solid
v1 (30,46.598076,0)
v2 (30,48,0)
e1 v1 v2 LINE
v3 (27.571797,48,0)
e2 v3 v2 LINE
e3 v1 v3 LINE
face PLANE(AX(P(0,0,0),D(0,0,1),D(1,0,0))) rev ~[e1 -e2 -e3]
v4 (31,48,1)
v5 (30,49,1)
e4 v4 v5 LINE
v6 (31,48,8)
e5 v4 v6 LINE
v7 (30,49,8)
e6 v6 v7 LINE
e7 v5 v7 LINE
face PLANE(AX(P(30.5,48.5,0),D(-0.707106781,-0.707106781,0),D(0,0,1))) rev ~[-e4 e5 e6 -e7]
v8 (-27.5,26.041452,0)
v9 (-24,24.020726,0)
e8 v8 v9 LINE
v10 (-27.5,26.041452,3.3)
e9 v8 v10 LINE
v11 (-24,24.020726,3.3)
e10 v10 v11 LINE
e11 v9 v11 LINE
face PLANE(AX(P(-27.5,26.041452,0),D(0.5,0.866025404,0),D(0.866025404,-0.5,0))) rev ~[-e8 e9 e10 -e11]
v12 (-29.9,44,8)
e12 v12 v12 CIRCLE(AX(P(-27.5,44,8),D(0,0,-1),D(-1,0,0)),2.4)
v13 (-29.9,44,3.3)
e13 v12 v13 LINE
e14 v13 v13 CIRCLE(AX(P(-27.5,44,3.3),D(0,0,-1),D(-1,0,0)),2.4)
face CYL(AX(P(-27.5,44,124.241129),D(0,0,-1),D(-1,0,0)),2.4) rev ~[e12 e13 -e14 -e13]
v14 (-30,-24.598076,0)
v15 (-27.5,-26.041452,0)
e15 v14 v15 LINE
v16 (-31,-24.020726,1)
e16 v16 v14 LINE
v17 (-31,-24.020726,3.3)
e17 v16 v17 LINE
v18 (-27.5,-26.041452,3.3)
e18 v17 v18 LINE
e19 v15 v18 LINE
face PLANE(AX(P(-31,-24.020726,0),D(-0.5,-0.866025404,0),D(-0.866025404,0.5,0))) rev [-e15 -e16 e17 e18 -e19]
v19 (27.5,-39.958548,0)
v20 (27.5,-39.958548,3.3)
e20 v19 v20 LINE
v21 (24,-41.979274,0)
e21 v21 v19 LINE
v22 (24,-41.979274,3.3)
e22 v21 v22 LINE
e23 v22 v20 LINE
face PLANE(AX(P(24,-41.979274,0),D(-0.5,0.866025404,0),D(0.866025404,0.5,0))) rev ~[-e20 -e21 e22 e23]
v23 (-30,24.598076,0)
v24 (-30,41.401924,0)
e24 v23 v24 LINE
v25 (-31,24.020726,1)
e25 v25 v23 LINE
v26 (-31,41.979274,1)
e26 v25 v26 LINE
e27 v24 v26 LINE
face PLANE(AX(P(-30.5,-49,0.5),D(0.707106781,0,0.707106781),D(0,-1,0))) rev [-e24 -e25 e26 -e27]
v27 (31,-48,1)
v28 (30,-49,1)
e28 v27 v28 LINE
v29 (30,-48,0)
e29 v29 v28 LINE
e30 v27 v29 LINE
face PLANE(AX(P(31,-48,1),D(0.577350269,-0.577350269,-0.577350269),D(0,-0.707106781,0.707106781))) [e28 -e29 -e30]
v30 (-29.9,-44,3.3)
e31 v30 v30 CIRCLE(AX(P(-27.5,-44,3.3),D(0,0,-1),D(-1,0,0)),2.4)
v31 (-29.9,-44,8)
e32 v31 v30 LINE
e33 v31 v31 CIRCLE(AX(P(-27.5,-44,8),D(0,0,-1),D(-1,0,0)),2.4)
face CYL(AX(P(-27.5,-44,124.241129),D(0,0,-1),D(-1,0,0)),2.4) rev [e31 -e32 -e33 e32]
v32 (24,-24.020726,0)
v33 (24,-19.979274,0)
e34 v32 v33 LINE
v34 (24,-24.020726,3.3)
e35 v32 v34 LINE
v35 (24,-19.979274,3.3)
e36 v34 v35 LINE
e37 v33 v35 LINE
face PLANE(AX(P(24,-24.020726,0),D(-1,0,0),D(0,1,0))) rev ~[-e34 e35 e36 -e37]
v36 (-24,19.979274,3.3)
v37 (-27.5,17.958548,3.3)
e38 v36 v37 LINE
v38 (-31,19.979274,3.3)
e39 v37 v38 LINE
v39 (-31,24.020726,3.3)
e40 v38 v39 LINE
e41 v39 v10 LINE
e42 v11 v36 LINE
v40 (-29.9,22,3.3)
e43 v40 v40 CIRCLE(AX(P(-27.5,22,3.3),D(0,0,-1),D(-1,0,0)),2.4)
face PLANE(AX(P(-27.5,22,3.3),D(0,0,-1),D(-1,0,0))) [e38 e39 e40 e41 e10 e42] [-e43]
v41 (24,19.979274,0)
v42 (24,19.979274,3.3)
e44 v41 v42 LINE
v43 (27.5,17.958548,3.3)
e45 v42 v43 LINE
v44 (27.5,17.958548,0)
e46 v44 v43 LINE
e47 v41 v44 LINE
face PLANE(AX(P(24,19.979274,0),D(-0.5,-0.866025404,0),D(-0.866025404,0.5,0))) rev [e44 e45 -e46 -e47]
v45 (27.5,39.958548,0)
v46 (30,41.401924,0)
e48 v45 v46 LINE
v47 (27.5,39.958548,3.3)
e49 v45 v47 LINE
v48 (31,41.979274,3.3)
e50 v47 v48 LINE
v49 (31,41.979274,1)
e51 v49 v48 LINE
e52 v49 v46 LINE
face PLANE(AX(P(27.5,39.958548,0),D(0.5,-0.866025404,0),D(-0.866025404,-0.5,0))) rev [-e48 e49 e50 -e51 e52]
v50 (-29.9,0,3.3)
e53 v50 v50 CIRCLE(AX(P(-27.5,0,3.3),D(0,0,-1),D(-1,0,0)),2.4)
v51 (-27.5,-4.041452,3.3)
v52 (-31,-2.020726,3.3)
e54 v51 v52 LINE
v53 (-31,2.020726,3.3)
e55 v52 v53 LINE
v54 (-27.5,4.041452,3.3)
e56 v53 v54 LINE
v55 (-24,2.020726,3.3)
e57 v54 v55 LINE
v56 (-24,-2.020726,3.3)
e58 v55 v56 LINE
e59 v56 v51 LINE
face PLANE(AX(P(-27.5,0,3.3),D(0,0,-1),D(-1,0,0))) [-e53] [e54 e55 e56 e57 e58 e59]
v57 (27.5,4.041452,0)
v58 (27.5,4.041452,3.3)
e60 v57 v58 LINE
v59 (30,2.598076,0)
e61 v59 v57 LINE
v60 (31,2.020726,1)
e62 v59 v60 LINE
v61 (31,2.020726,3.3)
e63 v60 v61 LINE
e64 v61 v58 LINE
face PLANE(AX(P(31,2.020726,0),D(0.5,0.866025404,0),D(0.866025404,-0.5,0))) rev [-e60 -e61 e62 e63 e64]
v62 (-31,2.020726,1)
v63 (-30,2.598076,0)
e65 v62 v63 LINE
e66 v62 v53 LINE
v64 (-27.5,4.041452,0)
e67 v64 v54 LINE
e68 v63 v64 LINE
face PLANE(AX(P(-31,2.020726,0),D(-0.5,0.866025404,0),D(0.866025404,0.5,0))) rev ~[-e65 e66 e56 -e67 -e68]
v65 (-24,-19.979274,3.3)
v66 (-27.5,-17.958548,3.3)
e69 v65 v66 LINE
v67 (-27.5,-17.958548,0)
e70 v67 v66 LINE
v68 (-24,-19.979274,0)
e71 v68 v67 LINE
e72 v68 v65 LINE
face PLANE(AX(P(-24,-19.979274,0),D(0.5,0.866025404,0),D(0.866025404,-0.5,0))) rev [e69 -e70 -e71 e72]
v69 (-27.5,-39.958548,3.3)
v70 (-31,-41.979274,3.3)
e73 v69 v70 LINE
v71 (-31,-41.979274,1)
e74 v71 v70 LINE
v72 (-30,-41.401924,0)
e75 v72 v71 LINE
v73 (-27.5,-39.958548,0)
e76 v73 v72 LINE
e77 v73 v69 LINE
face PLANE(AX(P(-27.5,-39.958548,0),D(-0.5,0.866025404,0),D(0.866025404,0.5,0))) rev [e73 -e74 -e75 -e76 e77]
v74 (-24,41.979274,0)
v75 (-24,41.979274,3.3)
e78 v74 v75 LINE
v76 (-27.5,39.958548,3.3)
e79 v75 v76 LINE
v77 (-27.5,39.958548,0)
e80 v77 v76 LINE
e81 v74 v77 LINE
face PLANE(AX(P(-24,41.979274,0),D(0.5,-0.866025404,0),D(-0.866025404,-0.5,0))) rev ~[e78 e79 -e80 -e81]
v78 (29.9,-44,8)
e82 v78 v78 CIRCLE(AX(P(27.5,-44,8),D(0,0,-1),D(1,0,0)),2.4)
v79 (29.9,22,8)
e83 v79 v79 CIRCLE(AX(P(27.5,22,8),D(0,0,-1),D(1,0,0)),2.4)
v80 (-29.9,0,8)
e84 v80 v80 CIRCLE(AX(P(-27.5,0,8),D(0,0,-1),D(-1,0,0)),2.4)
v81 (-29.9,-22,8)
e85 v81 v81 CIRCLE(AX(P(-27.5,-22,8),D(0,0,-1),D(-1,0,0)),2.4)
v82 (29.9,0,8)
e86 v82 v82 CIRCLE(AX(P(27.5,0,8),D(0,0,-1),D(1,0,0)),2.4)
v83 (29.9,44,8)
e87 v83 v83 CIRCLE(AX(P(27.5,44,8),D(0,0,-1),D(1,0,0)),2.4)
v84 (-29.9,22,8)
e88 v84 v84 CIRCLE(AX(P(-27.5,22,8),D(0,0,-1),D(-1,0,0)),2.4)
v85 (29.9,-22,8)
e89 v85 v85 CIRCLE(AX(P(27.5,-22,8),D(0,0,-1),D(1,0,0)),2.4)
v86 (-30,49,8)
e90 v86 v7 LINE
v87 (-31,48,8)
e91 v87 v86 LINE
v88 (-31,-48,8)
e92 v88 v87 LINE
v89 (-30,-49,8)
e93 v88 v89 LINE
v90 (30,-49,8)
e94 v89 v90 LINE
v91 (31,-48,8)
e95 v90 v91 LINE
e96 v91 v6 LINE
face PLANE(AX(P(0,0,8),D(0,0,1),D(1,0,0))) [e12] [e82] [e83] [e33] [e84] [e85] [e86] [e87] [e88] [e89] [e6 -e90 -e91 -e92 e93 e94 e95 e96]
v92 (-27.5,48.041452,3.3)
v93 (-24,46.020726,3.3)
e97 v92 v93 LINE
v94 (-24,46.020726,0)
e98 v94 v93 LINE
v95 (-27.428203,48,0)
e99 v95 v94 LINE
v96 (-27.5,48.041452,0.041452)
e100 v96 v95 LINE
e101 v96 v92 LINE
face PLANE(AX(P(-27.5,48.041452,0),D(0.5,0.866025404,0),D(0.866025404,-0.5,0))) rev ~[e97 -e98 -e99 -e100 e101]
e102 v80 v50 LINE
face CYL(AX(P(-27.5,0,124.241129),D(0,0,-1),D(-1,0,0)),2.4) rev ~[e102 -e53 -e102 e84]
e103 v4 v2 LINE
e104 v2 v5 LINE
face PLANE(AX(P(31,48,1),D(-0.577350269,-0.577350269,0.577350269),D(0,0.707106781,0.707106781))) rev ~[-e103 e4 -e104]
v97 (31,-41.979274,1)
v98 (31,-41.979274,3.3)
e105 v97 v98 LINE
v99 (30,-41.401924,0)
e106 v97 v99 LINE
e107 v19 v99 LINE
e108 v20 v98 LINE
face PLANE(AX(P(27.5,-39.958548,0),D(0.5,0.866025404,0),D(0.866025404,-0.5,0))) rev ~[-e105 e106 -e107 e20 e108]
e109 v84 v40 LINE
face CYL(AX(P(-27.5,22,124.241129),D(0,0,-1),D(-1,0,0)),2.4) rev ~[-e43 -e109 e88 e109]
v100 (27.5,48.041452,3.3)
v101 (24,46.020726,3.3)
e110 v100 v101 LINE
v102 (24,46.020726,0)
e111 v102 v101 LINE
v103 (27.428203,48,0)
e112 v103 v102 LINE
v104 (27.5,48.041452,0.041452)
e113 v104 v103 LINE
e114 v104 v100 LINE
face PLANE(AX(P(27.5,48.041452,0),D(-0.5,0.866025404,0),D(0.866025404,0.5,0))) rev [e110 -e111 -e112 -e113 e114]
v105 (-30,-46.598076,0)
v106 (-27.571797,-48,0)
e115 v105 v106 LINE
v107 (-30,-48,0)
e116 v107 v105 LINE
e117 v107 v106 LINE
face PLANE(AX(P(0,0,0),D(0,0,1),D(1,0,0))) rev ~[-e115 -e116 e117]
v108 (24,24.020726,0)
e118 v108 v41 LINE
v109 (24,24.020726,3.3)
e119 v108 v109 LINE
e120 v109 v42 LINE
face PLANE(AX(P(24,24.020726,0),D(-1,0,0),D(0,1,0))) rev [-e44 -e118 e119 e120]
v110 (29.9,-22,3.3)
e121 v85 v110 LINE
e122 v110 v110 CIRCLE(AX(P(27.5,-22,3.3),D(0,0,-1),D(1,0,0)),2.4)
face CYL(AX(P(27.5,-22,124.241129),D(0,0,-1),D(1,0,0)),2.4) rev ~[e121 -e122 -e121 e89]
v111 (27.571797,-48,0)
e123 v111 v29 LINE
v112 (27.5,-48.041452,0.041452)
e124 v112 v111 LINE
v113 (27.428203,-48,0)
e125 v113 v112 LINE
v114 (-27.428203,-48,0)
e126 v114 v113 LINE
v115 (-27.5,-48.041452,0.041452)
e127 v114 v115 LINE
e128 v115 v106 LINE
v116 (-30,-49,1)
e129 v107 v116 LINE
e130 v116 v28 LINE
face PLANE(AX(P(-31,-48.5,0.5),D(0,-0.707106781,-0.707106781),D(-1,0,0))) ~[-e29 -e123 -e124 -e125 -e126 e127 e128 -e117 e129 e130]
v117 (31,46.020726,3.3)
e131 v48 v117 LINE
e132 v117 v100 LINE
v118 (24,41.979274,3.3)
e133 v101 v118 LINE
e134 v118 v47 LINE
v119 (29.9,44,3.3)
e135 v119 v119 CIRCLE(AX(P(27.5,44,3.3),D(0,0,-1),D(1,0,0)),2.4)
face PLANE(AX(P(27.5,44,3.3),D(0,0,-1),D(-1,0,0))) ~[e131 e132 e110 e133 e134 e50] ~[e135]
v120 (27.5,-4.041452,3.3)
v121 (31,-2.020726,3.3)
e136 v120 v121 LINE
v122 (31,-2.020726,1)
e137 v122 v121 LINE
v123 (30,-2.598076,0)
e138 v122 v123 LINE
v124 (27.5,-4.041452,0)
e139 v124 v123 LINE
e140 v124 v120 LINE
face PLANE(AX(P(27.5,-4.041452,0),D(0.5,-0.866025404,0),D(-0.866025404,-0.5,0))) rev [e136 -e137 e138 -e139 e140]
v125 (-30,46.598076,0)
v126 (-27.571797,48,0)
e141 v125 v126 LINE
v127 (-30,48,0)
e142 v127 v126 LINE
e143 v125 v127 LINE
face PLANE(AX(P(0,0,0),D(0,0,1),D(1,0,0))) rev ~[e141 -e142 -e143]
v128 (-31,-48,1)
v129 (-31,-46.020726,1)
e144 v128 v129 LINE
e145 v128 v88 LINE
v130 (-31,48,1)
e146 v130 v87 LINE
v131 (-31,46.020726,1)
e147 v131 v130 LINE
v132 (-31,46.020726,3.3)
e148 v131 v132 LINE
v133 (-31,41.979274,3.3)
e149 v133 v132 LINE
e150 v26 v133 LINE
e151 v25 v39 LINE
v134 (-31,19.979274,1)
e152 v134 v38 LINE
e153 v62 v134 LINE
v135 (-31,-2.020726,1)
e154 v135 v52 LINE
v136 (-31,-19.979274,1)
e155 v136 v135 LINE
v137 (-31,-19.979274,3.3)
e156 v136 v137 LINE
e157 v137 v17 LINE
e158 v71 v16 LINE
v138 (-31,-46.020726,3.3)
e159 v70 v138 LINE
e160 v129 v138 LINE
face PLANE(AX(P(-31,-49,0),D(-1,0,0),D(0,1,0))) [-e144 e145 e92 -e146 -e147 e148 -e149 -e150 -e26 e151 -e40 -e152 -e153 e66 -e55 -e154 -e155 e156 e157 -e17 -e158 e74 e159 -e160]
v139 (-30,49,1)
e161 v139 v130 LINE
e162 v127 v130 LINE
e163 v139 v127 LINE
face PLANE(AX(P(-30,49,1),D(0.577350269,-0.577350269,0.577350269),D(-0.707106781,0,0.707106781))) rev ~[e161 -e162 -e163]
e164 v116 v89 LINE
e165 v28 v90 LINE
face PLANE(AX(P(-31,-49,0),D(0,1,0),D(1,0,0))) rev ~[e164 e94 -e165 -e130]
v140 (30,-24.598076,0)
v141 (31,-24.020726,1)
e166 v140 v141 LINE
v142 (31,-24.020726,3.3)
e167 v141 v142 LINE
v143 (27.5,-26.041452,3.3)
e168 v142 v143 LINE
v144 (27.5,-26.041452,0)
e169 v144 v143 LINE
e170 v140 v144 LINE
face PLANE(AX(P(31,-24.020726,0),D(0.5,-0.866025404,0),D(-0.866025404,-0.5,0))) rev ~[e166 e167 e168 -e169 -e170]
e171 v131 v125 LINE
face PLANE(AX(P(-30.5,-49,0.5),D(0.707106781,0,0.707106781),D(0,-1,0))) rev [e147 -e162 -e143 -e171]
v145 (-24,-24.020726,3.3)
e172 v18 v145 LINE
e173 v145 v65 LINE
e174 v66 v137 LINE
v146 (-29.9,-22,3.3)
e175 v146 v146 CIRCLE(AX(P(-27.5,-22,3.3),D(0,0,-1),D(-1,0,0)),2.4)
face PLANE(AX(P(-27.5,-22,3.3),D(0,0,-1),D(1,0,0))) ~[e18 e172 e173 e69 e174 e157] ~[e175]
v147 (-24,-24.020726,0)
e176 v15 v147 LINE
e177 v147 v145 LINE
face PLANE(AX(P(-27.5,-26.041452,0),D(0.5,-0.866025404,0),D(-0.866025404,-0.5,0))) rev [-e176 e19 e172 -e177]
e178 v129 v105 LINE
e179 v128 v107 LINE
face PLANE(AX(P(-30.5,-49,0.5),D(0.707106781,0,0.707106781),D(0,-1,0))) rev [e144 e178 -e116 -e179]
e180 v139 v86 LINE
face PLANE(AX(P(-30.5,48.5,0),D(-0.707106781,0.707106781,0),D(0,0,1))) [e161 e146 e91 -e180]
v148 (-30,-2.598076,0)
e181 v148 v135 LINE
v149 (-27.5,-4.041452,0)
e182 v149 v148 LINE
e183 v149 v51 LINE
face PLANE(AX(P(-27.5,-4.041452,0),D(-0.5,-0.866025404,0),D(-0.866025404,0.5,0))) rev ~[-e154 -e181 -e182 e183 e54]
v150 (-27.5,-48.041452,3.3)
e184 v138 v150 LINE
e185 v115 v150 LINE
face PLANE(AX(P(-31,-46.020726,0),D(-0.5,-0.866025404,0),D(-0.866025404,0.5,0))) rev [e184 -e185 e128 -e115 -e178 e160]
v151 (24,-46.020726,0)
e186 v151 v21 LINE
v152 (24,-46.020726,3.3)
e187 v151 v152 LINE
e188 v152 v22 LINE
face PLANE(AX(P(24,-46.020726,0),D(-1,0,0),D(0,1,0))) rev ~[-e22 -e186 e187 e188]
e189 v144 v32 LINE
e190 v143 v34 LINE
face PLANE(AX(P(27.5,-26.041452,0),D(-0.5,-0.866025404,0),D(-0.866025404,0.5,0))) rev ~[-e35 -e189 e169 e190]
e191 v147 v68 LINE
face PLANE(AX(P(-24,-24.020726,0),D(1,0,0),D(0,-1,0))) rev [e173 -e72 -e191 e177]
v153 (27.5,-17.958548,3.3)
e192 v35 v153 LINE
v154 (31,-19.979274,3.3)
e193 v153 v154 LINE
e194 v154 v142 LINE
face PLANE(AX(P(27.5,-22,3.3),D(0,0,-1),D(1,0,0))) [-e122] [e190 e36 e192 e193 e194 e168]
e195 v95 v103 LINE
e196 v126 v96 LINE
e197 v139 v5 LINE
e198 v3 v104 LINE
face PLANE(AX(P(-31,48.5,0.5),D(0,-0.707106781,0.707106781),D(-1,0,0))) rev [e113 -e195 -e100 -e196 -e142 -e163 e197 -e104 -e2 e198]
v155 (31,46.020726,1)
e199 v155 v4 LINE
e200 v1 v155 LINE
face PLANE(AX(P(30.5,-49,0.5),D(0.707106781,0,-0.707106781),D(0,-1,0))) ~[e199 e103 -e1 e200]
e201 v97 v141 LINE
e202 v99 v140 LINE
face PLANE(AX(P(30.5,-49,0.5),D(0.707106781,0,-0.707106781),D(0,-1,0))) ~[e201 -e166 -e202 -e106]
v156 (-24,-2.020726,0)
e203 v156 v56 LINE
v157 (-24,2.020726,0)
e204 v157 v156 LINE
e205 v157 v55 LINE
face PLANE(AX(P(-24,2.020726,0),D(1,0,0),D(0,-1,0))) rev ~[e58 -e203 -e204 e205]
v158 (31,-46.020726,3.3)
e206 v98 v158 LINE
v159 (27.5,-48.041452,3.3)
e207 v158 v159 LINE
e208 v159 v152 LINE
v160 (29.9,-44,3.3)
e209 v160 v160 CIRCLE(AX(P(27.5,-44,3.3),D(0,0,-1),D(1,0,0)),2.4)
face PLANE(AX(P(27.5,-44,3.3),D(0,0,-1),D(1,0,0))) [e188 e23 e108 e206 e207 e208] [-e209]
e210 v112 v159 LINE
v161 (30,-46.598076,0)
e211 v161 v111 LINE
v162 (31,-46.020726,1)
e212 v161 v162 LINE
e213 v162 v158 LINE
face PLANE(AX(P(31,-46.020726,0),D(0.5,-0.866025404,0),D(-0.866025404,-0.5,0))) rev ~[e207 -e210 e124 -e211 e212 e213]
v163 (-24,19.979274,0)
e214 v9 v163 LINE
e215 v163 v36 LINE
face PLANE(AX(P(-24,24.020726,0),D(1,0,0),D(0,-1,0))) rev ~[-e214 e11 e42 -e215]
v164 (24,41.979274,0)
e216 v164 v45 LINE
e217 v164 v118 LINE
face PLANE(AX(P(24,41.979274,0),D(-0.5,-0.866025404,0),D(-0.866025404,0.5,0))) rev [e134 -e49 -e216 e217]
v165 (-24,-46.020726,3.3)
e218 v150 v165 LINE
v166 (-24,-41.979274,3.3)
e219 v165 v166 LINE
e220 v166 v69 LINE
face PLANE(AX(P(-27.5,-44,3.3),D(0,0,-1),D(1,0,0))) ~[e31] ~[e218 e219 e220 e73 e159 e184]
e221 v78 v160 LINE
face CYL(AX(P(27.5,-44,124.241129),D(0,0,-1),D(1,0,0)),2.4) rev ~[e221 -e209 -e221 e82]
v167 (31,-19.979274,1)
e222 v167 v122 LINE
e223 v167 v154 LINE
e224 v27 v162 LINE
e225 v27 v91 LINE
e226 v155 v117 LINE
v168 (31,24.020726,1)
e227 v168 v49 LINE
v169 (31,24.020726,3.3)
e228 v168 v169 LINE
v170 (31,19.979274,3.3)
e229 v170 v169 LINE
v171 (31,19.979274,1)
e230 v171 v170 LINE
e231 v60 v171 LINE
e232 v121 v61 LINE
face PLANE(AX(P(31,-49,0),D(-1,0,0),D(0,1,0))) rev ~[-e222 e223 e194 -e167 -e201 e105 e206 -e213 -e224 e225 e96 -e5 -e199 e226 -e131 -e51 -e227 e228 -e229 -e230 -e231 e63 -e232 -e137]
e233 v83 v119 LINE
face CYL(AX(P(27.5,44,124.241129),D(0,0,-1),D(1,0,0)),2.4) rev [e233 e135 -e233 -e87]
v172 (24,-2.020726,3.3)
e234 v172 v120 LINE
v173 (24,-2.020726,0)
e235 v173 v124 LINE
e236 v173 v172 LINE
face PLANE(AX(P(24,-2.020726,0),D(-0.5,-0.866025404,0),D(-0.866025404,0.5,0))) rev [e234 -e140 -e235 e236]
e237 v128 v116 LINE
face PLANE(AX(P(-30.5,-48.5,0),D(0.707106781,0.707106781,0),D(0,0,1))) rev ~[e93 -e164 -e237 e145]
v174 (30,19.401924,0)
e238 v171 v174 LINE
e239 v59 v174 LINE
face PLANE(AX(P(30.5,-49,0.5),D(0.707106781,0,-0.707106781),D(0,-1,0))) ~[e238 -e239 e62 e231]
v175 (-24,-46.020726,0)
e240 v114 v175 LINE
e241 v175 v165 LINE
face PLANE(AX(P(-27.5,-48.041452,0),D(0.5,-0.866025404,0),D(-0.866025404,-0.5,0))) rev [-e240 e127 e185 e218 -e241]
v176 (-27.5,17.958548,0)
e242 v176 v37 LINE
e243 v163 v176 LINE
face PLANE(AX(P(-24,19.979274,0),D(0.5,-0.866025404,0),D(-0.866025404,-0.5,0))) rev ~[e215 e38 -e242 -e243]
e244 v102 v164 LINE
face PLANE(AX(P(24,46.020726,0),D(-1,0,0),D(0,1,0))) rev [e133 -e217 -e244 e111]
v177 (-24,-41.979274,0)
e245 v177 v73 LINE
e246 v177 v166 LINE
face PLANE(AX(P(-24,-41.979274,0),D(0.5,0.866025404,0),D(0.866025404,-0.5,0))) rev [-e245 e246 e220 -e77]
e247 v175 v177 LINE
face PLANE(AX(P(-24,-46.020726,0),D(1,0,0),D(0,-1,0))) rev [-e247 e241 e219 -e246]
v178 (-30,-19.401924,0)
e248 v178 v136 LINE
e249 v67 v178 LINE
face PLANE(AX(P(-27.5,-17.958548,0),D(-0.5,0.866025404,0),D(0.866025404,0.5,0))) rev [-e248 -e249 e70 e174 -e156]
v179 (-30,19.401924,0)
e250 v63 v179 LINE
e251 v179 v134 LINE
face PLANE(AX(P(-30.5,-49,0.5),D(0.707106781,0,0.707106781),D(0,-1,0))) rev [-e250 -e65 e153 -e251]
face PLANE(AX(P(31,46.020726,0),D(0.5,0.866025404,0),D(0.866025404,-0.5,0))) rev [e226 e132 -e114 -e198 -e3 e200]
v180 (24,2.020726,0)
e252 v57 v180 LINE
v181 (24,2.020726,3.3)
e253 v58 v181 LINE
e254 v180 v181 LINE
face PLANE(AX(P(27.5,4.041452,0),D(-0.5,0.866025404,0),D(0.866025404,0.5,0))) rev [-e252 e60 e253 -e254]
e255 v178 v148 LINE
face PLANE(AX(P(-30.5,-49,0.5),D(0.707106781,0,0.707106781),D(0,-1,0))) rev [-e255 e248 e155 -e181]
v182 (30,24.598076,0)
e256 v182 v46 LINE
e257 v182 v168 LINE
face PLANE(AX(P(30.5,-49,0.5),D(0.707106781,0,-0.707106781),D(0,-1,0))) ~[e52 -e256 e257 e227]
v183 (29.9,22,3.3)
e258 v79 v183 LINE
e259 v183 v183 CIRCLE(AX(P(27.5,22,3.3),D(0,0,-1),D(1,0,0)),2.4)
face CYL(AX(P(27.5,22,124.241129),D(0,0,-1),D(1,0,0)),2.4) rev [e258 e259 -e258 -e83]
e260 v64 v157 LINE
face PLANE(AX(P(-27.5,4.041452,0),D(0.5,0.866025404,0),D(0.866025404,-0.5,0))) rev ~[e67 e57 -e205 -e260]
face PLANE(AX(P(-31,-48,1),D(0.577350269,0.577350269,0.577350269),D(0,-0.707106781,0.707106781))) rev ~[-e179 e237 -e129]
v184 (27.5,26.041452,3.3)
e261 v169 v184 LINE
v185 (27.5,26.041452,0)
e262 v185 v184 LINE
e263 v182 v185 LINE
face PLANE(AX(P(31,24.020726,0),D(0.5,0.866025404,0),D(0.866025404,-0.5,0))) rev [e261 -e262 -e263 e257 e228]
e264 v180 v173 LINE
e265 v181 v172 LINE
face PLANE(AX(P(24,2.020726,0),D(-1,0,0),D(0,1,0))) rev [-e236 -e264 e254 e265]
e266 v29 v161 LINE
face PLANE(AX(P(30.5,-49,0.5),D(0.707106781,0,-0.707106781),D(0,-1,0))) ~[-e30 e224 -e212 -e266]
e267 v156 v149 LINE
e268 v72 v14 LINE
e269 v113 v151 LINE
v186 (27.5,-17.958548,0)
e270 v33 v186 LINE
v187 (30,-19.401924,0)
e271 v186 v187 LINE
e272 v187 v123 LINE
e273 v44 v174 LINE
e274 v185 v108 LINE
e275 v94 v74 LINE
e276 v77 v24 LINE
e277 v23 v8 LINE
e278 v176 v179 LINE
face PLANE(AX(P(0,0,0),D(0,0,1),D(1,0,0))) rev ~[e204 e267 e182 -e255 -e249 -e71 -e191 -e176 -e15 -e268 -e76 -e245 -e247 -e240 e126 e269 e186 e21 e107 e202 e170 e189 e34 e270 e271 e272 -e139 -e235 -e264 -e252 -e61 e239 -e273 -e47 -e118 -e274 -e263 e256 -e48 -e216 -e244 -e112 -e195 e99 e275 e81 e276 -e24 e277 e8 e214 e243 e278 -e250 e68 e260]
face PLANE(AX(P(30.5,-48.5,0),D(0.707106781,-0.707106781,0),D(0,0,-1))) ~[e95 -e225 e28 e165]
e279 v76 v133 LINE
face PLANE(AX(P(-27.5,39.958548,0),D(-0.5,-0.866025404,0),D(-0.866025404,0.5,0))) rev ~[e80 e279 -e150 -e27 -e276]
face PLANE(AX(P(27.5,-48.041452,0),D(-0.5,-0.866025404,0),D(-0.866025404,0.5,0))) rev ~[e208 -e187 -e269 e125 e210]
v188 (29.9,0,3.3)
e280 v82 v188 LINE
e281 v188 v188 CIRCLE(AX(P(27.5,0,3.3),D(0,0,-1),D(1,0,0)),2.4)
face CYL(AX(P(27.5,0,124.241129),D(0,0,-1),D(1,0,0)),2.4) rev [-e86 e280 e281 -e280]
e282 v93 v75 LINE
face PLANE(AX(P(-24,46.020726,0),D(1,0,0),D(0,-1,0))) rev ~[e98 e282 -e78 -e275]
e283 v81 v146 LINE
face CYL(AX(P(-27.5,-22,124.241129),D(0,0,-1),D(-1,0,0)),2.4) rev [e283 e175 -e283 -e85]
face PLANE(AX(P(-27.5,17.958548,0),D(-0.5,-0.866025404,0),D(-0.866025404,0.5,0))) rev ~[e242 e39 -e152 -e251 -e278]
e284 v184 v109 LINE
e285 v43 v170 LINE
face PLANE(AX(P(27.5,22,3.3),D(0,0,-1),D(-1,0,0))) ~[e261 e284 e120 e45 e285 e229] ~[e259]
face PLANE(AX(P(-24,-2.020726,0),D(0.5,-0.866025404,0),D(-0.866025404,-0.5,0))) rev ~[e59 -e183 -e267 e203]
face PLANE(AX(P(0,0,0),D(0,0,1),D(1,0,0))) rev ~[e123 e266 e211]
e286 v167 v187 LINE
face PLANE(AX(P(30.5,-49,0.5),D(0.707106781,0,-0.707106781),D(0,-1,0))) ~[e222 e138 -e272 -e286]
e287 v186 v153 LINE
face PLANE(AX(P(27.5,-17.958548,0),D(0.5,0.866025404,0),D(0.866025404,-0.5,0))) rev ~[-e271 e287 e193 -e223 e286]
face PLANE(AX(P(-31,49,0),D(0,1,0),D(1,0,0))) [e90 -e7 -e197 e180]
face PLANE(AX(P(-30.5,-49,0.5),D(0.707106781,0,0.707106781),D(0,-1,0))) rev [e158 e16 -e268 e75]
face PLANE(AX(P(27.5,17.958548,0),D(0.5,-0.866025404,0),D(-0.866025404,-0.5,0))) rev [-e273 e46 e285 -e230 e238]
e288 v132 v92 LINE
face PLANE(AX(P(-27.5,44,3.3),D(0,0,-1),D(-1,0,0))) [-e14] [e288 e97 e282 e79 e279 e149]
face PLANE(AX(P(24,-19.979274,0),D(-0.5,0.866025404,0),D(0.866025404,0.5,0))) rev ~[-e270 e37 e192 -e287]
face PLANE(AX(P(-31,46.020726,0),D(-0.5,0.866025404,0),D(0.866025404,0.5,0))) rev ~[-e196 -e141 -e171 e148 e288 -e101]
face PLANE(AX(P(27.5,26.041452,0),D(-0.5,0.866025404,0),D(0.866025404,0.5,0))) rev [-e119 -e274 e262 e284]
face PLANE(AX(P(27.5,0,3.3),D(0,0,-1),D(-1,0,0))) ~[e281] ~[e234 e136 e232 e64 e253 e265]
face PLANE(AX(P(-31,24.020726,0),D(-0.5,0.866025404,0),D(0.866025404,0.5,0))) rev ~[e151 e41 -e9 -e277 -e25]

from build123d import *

# Parameters (mm, degrees)
SKETCH_1_W            = 62
SKETCH_1_H            = 98
EXTRUDE_1_DEPTH       = 8
CHAMFER_1_SIZE        = 1
HOLE_WIZARD_M4_1_D    = 4.8
CUT_EXTRUDE_1_DEPTH   = 3.3
MIRROR_2_COPY_1_D     = 4.8
MIRROR_2_COPY_2_DEPTH = 3.3


with BuildPart() as part:
    # ｽｹｯﾁ1 → ﾎﾞｽ - 押し出し1 (new body)
    with BuildSketch(Plane.XY):
        Rectangle(SKETCH_1_W, SKETCH_1_H)
    extrude(amount=EXTRUDE_1_DEPTH)

    # 面取り1
    chamfer_1_edges = [part.edges().sort_by_distance(p)[0] for p in [
        (0, -49, 0),
        (-31, 0, 0),
        (0, 49, 0),
        (31, 0, 0),
        (31, -49, 4),
        (-31, -49, 4),
        (-31, 49, 4),
        (31, 49, 4),
    ]]
    chamfer(chamfer_1_edges, length=CHAMFER_1_SIZE)

    # M4 すきま穴1 (through all)
    with Locations(Plane.XY.offset(8)):
        with Locations((-27.5, 44), (-27.5, 22), (-27.5, 0)):
            hole_wizard_m4_1 = Hole(HOLE_WIZARD_M4_1_D / 2)

    # ｽｹｯﾁ6 → ｶｯﾄ - 押し出し1 (cut)
    with BuildSketch(Plane(origin=(0, 0, 0), x_dir=(-1, 0, 0), z_dir=(0, 0, -1))):
        Polygon((27.5, 17.958548116), (31, 19.979274058), (31, 24.020725942), (27.5, 26.041451884), (24, 24.020725942), (24, 19.979274058), align=None)
        Polygon((27.5, 39.958548116), (31, 41.979274058), (31, 46.020725942), (27.5, 48.041451884), (24, 46.020725942), (24, 41.979274058), align=None)
        Polygon((27.5, -4.041451884), (31, -2.020725942), (31, 2.020725942), (27.5, 4.041451884), (24, 2.020725942), (24, -2.020725942), align=None)
    cut_extrude_1 = extrude(amount=-CUT_EXTRUDE_1_DEPTH, mode=Mode.SUBTRACT)

    # ﾐﾗｰ1: M4 すきま穴1, ｶｯﾄ - 押し出し1 across plane
    add(hole_wizard_m4_1.mirror(Plane.ZX), mode=Mode.SUBTRACT)
    add(cut_extrude_1.mirror(Plane.ZX), mode=Mode.SUBTRACT)

    # ﾐﾗｰ2: M4 すきま穴1, ｶｯﾄ - 押し出し1 across plane
    add(hole_wizard_m4_1.mirror(Plane(origin=(0, 0, 0), x_dir=(0, 0, 1), z_dir=(1, 0, 0))), mode=Mode.SUBTRACT)
    add(cut_extrude_1.mirror(Plane(origin=(0, 0, 0), x_dir=(0, 0, 1), z_dir=(1, 0, 0))), mode=Mode.SUBTRACT)

    # ﾐﾗｰ2 copy 1 (through all)
    with Locations(Plane(origin=(0, 0, 8), x_dir=(-1, 0, 0), z_dir=(0, 0, 1))):
        with Locations((-27.5, 44), (-27.5, 22), (-27.5, 0)):
            Hole(MIRROR_2_COPY_1_D / 2)

    # ﾐﾗｰ2 copy 2 sketch → ﾐﾗｰ2 copy 2 (cut)
    with BuildSketch(Plane(origin=(0, 0, 0), x_dir=(1, 0, 0), z_dir=(0, 0, -1))):
        Polygon((27.5, 17.958548116), (31, 19.979274058), (31, 24.020725942), (27.5, 26.041451884), (24, 24.020725942), (24, 19.979274058), align=None)
        Polygon((27.5, 39.958548116), (31, 41.979274058), (31, 46.020725942), (27.5, 48.041451884), (24, 46.020725942), (24, 41.979274058), align=None)
        Polygon((27.5, -4.041451884), (31, -2.020725942), (31, 2.020725942), (27.5, 4.041451884), (24, 2.020725942), (24, -2.020725942), align=None)
    extrude(amount=-MIRROR_2_COPY_2_DEPTH, mode=Mode.SUBTRACT)


solid = part.part
